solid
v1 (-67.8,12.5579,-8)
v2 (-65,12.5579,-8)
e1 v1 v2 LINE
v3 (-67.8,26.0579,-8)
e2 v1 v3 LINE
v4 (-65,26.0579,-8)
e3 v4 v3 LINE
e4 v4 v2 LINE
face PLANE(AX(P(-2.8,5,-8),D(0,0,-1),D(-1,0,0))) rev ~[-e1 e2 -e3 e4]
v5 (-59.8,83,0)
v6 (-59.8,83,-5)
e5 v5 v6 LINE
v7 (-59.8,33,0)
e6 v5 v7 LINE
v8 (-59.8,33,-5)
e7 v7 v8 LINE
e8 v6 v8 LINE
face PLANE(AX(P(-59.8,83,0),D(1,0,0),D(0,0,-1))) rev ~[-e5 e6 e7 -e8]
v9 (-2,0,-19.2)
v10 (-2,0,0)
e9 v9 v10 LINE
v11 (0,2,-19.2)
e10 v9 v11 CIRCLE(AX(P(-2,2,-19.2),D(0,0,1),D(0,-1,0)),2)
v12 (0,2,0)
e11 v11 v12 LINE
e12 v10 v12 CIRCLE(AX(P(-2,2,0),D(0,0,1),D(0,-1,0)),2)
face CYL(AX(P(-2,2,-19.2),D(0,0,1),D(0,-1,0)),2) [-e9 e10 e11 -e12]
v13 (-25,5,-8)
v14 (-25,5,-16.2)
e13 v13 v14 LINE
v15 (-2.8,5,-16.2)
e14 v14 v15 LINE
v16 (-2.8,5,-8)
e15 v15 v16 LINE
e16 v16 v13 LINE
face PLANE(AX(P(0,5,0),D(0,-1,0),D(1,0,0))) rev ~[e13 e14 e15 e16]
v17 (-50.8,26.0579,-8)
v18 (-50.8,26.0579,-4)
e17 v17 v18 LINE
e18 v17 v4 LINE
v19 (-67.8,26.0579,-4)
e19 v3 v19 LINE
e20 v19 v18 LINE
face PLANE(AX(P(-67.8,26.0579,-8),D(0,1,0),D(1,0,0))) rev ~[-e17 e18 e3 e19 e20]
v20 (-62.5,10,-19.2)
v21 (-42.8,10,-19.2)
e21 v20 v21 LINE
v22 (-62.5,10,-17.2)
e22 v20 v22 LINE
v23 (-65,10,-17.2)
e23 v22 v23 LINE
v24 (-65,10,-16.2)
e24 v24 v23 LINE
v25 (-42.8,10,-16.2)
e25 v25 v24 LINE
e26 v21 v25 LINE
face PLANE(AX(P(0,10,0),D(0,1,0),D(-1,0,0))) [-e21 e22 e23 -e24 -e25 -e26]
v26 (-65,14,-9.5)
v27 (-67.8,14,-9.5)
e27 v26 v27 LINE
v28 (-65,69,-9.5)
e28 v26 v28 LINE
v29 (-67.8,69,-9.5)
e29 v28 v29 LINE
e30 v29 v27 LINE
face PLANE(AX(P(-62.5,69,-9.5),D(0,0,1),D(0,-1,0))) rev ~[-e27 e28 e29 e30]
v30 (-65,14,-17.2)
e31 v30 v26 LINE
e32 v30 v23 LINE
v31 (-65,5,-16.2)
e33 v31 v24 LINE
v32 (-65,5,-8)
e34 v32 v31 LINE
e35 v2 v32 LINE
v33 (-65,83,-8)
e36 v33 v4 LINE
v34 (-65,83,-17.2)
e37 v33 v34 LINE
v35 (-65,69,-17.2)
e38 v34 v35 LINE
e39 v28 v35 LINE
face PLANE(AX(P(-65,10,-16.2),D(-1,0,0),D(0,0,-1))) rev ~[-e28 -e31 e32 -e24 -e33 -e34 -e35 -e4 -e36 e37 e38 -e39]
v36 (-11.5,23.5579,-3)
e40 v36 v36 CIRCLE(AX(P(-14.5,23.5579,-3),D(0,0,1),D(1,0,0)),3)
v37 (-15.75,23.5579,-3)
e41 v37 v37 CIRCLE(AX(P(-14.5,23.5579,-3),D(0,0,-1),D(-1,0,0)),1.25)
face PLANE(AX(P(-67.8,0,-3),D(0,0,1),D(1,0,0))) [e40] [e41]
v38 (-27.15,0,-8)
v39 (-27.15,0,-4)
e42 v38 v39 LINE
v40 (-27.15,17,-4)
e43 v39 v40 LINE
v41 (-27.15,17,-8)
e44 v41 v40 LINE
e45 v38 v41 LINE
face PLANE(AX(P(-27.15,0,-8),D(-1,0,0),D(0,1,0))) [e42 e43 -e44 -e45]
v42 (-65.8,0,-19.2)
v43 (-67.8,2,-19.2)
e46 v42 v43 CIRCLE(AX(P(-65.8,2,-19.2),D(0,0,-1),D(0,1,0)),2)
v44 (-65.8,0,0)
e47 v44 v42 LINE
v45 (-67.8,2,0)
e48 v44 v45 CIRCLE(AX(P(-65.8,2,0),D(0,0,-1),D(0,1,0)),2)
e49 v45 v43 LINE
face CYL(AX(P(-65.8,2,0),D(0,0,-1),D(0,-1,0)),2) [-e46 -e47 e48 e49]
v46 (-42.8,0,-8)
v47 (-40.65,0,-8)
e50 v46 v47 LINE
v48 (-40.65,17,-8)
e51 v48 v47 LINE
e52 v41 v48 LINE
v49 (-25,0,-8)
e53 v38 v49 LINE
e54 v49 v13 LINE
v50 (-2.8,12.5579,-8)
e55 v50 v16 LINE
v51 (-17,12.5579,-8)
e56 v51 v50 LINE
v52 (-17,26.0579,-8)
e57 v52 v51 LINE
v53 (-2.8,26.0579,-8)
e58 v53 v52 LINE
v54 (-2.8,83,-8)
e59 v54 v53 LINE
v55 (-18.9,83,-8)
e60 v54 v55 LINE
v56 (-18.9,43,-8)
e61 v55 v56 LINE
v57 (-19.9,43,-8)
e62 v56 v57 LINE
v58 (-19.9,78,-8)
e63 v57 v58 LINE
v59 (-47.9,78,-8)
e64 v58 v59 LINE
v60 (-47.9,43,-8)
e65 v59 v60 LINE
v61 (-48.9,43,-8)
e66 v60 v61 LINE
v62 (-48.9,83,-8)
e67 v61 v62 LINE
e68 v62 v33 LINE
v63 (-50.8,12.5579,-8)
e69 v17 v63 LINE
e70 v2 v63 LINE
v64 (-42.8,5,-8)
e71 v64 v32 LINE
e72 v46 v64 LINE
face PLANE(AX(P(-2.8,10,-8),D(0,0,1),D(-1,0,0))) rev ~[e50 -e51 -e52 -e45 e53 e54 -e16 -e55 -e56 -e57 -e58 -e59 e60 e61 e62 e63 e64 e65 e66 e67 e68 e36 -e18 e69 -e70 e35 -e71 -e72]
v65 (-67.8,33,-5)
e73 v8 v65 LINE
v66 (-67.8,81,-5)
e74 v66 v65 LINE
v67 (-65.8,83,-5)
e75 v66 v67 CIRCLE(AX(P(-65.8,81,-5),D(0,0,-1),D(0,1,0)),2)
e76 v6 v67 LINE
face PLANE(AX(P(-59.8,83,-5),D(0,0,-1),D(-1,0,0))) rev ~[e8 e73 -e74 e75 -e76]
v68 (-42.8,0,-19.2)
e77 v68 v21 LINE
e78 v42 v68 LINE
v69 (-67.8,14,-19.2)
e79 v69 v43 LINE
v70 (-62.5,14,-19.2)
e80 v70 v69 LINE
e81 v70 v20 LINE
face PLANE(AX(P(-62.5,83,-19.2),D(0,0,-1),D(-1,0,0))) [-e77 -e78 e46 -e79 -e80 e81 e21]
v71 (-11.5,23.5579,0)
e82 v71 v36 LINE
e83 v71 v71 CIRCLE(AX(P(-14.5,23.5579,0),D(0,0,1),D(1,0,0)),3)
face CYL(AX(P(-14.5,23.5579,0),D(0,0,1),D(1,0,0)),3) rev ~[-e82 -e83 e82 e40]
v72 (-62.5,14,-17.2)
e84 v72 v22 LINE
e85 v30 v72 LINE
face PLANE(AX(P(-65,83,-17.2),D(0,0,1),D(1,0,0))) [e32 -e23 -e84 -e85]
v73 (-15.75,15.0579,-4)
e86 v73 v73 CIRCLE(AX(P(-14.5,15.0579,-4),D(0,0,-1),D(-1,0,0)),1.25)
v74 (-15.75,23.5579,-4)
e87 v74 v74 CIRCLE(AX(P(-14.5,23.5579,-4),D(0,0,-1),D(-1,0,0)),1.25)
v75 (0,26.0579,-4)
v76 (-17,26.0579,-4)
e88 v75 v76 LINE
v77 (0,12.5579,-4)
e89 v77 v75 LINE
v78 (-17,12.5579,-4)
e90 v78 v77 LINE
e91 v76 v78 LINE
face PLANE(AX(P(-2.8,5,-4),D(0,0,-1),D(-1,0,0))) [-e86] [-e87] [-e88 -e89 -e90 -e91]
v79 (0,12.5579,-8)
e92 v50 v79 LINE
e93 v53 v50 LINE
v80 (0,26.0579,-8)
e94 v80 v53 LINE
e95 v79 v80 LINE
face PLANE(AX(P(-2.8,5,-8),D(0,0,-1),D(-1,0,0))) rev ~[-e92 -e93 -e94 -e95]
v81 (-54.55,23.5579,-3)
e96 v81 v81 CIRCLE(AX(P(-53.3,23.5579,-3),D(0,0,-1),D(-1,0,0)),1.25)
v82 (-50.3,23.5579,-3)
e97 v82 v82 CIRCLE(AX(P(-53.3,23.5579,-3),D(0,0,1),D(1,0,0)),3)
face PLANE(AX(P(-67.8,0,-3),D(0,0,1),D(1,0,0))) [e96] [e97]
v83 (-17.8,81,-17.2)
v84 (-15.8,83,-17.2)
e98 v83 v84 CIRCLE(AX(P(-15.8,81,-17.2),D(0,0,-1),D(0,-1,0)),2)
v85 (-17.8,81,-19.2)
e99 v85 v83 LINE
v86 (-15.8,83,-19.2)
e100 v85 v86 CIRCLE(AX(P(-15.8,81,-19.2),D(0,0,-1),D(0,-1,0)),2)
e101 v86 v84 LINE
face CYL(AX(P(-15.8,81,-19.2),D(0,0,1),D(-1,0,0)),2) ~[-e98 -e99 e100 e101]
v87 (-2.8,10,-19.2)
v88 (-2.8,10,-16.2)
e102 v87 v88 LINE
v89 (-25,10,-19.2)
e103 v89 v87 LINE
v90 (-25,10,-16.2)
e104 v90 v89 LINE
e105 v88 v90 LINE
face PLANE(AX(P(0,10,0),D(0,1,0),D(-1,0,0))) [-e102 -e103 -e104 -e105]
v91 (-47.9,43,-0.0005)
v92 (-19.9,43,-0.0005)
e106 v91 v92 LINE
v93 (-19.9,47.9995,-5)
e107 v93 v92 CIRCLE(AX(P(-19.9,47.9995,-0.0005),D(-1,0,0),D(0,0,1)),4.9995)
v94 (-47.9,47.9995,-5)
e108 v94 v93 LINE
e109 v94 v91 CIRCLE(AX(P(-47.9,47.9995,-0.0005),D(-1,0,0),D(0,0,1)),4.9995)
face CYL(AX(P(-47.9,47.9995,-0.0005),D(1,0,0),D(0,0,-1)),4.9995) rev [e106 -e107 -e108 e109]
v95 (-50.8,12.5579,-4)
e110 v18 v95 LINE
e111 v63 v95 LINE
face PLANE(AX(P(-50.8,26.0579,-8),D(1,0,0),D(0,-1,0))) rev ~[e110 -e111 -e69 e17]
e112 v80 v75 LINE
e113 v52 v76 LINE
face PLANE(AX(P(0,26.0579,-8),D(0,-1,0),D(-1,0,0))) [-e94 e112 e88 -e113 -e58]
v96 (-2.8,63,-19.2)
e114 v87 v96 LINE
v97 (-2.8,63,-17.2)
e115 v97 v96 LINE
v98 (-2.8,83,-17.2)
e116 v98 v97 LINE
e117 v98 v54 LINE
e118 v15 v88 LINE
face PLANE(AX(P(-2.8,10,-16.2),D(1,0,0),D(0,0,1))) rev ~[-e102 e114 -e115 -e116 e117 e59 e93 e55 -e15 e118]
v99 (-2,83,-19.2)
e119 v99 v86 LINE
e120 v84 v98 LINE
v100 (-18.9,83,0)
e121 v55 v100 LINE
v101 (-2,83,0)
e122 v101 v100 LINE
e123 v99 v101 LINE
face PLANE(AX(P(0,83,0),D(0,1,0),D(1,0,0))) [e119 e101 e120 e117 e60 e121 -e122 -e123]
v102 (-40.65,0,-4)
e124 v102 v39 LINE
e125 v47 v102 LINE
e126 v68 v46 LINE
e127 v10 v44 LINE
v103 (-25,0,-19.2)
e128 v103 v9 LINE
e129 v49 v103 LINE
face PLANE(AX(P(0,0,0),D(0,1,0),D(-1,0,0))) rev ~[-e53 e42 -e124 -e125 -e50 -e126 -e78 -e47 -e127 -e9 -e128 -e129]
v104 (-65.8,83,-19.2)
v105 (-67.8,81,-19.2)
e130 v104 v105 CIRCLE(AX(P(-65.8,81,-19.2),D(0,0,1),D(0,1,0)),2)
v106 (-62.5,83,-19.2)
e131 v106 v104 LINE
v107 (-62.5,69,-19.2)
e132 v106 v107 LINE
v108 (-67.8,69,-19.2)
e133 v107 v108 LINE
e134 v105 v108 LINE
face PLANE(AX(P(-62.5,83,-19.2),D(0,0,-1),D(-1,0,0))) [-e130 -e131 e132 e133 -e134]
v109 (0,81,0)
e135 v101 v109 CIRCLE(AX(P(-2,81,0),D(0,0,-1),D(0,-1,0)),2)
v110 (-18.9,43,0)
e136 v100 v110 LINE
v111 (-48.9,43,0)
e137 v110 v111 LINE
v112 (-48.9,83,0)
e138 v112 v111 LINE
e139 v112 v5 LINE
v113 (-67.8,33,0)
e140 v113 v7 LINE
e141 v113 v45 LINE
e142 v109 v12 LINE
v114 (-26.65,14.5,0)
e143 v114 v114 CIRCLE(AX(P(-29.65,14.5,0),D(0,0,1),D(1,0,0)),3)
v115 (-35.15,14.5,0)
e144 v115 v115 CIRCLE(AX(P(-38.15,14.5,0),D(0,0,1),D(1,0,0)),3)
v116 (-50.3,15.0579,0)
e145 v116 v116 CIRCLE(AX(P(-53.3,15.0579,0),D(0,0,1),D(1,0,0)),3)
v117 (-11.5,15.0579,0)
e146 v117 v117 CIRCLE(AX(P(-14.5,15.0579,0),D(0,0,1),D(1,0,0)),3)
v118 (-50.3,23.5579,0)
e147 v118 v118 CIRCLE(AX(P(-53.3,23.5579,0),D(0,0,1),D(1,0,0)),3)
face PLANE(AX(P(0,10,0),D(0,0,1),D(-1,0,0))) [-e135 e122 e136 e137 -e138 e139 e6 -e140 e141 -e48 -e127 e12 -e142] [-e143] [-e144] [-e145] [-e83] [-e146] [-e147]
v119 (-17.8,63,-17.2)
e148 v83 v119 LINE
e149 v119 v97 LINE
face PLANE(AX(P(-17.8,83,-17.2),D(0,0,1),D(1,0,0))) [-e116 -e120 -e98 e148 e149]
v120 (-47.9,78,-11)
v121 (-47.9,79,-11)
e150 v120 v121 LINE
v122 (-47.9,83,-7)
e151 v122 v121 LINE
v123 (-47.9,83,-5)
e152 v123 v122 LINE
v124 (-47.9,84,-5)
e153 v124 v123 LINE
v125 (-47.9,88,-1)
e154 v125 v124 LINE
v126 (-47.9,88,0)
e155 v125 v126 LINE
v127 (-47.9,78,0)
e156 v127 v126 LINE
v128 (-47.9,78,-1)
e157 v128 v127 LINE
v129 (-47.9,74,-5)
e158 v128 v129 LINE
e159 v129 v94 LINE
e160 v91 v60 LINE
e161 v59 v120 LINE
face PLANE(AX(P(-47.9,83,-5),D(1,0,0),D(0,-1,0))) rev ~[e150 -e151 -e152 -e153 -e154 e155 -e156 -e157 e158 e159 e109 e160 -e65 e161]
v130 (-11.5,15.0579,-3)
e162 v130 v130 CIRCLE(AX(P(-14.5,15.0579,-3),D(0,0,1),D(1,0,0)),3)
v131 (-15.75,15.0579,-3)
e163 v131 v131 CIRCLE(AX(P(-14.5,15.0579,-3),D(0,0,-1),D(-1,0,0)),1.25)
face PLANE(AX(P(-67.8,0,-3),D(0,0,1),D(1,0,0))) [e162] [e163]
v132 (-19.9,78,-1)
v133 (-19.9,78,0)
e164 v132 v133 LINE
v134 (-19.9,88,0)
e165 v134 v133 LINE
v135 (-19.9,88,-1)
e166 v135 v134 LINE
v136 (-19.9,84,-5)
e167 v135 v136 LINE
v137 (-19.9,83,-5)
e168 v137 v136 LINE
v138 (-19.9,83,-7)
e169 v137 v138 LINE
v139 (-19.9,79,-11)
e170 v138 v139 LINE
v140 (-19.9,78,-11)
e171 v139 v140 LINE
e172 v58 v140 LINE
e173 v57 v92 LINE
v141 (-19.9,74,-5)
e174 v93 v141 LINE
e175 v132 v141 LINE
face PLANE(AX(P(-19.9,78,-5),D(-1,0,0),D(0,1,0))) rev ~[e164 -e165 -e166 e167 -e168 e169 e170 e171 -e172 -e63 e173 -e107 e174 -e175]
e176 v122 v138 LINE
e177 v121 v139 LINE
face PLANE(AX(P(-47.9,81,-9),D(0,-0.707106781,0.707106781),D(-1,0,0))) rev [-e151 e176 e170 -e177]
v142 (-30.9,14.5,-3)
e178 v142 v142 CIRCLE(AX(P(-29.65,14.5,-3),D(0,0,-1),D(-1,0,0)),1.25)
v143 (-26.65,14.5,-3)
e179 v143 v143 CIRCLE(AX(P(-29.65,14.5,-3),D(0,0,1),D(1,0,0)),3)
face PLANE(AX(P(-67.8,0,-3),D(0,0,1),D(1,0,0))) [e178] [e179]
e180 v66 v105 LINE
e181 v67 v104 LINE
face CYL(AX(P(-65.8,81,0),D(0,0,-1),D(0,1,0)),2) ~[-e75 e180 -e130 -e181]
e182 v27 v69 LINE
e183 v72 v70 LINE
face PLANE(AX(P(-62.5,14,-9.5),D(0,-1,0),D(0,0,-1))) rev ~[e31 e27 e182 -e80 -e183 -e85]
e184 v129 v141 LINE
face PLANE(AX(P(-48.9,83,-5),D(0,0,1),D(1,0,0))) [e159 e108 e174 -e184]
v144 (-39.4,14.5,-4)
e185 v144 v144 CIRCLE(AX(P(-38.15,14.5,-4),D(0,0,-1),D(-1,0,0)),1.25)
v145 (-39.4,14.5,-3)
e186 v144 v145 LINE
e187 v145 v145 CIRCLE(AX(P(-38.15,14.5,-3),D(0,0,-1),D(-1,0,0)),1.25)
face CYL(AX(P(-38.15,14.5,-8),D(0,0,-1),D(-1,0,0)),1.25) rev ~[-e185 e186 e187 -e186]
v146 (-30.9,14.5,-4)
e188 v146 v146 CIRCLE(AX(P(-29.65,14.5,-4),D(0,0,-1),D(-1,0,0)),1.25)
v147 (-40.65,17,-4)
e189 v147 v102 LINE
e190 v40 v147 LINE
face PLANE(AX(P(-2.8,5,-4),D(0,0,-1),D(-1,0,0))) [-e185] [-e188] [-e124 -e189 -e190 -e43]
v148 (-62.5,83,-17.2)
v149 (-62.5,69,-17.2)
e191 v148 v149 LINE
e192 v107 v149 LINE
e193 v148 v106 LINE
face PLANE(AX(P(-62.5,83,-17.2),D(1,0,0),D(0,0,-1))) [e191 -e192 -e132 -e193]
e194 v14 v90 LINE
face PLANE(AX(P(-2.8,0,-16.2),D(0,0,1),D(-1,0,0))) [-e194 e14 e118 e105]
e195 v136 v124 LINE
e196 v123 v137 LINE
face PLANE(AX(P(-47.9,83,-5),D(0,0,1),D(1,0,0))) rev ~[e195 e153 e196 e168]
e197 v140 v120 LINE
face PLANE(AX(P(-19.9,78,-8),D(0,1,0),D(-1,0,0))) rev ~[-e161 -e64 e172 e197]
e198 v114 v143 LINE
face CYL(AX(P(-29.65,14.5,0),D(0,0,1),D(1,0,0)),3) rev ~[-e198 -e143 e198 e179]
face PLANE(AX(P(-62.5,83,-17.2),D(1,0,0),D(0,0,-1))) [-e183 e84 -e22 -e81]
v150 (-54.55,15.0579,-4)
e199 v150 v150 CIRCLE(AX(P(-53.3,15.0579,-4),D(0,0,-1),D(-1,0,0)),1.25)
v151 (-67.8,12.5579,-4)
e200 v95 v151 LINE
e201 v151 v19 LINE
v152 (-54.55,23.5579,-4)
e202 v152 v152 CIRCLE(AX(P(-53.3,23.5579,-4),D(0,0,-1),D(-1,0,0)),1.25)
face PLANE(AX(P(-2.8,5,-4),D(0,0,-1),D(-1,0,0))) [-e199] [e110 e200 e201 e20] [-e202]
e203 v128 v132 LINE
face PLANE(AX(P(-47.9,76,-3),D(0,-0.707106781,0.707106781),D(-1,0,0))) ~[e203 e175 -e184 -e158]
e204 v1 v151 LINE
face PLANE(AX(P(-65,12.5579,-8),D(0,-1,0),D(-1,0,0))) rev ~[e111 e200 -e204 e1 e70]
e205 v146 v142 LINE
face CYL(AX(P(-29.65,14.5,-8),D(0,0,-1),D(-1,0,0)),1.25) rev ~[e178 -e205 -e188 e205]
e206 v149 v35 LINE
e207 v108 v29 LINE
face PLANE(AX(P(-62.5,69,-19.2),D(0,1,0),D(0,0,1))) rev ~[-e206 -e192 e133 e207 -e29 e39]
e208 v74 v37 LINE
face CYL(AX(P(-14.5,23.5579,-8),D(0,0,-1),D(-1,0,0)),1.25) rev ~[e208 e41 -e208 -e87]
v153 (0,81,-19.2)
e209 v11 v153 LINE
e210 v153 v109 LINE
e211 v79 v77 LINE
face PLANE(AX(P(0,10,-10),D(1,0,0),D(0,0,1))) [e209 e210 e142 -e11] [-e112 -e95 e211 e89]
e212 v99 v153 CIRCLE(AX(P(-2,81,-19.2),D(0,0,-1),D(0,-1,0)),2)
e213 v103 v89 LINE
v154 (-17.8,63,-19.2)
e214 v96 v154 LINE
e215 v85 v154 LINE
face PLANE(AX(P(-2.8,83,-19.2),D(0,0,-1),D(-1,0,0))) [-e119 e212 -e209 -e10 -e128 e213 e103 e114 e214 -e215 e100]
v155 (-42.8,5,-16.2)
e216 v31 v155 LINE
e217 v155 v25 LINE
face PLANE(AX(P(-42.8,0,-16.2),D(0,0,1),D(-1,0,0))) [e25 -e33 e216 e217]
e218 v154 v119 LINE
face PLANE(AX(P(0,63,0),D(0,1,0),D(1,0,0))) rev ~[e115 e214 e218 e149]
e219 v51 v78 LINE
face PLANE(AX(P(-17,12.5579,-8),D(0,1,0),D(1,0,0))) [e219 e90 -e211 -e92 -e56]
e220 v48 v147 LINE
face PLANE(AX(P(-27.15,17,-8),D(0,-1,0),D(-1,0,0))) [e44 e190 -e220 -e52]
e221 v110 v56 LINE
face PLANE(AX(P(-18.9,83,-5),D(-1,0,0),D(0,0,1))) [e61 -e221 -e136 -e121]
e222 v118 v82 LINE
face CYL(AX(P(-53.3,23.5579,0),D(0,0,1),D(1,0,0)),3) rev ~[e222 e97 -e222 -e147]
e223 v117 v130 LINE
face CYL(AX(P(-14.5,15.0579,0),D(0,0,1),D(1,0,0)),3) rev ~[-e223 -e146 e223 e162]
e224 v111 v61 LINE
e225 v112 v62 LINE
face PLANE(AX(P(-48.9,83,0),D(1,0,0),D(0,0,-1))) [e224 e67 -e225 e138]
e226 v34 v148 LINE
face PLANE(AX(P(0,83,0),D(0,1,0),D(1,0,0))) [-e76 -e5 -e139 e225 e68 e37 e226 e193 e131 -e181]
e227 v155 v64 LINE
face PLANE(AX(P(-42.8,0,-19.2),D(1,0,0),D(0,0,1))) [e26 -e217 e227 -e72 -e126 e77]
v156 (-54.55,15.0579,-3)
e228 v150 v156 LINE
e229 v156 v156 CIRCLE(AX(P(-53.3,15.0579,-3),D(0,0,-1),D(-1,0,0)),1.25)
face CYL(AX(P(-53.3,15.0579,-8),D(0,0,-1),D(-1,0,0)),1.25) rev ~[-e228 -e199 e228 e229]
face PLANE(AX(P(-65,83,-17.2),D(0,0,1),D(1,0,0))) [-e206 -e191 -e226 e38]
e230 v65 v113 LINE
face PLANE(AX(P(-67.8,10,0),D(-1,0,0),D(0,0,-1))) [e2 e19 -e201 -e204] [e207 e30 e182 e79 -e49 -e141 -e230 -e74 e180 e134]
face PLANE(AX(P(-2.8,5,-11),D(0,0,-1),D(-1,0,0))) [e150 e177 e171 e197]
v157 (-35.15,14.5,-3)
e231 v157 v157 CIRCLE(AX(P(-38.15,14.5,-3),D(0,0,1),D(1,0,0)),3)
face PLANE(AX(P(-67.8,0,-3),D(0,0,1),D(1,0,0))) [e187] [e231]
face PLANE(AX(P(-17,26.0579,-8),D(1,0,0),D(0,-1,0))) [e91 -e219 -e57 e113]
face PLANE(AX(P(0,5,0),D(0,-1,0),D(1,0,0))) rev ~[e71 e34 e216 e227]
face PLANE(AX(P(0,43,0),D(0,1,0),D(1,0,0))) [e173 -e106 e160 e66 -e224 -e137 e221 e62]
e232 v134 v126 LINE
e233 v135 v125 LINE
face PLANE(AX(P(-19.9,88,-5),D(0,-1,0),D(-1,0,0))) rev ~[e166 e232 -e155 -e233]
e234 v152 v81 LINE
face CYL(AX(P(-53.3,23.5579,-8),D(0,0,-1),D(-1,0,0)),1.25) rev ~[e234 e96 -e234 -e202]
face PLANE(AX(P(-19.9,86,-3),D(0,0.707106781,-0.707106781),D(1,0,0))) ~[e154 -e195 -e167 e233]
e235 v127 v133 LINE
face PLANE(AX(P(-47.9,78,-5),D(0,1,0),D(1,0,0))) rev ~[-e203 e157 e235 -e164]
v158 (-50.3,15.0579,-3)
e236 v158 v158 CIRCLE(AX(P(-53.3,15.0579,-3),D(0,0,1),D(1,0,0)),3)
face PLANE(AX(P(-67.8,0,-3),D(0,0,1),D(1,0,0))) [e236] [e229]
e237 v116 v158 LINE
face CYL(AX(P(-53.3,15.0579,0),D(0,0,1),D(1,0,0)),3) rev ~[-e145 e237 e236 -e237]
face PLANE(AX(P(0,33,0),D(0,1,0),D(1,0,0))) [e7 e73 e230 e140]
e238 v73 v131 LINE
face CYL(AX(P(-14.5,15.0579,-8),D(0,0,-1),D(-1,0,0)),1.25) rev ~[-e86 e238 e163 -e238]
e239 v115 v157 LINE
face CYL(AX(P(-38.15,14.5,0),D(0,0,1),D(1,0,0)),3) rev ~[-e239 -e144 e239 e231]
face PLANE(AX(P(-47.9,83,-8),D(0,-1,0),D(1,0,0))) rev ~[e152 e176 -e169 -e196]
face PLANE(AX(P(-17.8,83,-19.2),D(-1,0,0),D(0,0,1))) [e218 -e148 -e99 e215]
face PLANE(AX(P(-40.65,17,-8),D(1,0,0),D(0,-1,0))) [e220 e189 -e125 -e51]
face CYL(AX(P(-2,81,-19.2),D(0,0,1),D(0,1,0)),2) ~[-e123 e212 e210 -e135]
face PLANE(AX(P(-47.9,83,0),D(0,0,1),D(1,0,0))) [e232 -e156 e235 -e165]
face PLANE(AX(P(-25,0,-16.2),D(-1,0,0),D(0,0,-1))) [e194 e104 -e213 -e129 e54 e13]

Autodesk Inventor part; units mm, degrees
ref_plane "YZ Plane" through (0, 0, 0) normal (1, 0, 0) x (0, 1, 0)
ref_plane "XZ Plane" through (0, 0, 0) normal (0, 1, 0) x (-1, 0, 0)
ref_plane "XY Plane" through (0, 0, 0) normal (0, 0, 1) x (1, 0, 0)
sketch "Sketch2" plane through (0, 0, 0) normal (0, 1, 0) x (-1, 0, 0)
  line L0 (0, 0) -> (67.8, 0)
  line L1 (67.8, 0) -> (67.8, -19.2)
  line L2 (67.8, -19.2) -> (42.8, -19.2)
  line L3 (42.8, -19.2) -> (42.8, -16.2)
  line L4 (42.8, -16.2) -> (65, -16.2)
  line L5 (65, -16.2) -> (65, -8)
  line L6 (65, -8) -> (2.8, -8)
  line L7 (2.8, -8) -> (2.8, -16.2)
  line L8 (2.8, -16.2) -> (25, -16.2)
  line L9 (25, -16.2) -> (25, -19.2)
  line L10 (25, -19.2) -> (0, -19.2)
  line L11 (0, -19.2) -> (0, 0)
  dimension "d2" = 62.2
  dimension "d3" = 2.8
  dimension "d4" = 2.8
  dimension "d5" = 3
  dimension "d6" = 25
  dimension "d7" = 25
  dimension "d8" = 8
  dimension "d9" = 8.2
extrude "Extrusion1" add sketch "Sketch2" along normal blind 10
sketch "Sketch3" plane through (0, 0, 0) normal (0, -1, 0) x (1, 0, 0)
  line L0 (-2.8, -8) -> (-65, -8) projected
  line L1 (-42.8, -8) -> (-65, -8)
  line L2 (-65, -8) -> (-65, -16.2)
  line L3 (-65, -16.2) -> (-42.8, -16.2)
  line L4 (-42.8, -16.2) -> (-42.8, -8)
  line L5 (-42.8, -19.2) -> (-42.8, -16.2) projected
  line L6 (-42.8, -16.2) -> (-65, -16.2) projected
  line L7 (-25, -16.2) -> (-2.8, -16.2)
  line L8 (-2.8, -16.2) -> (-2.8, -8)
  line L9 (-2.8, -8) -> (-25, -8)
  line L10 (-25, -8) -> (-25, -16.2)
  line L11 (-65, -8) -> (-65, -16.2) projected
  point P0 (0, 0)
extrude "Extrusion2" add sketch "Sketch3" against normal blind 5
sketch "Sketch7" plane through (0, 10, 0) normal (0, 1, 0) x (1, 0, 0)
  line L0 (0, 10) -> (0, 0)
  line L1 (0, 0) -> (-67.8, 0)
  line L2 (-67.8, 0) -> (-67.8, 19.2)
  line L3 (0, 10) -> (0, 19.2)
  line L4 (0, 19.2) -> (-2.8, 19.2)
  line L5 (-2.8, 19.2) -> (-2.8, 8)
  line L6 (-2.8, 8) -> (-65, 8)
  line L7 (-65, 8) -> (-65, 19.2)
  line L8 (-65, 19.2) -> (-67.8, 19.2)
  line L9 (-67.8, 19.2) -> (-67.8, 0) projected
  line L10 (0, 19.2) -> (-25, 19.2) projected
  line L11 (-2.8, 8) -> (-65, 8) projected
  line L12 (-65, 8) -> (-65, 16.2) projected
  line L13 (-2.8, 16.2) -> (-2.8, 8) projected
extrude "Extrusion5" add sketch "Sketch7" along normal blind 73
sketch "Sketch10" plane through (0, 83, 0) normal (0, 1, 0) x (1, 0, 0)
  line L0 (-18.9, 0) -> (-48.9, 0)
  line L1 (-48.9, 0) -> (-48.9, 5)
  line L2 (-48.9, 5) -> (-18.9, 5)
  line L3 (-18.9, 5) -> (-18.9, 0)
  line L4 (-2.8, 8) -> (-65, 8) projected
  line L5 (-67.8, 0) -> (0, 0) projected
  line L6 (-33.9, 8) -> (-33.9, 19.521) construction
  line L7 (-33.9, 0) -> (-33.9, -9.399) construction
  dimension "d40" = 3
  dimension "d41" = 30
extrude "Extrusion8" cut sketch "Sketch10" against normal blind 40
sketch "Sketch11" plane through (-48.9, 83, -5) normal (0, 0, 1) x (1, 0, 0)
  line L0 (0, 0) -> (1, 0)
  line L1 (1, 0) -> (1, -40)
  line L2 (1, -40) -> (0, -40)
  line L3 (0, -40) -> (0, 0)
  line L4 (29, 0) -> (30, 0)
  line L5 (30, 0) -> (30, -40)
  line L6 (30, -40) -> (29, -40)
  line L7 (29, -40) -> (29, 0)
  line L8 (30, -40) -> (0, -40) projected
  line L9 (30, 0) -> (30, -40) projected
  line L10 (0, -40) -> (0, 0) projected
  line L11 (0, 0) -> (30, 0) projected
  point P0 (48.9, -83)
  dimension "d44" = 1
  dimension "d45" = 1
extrude "Extrusion9" cut sketch "Sketch11" against normal blind 30 contours L0 L1 L2 L3 | L4 L5 L6 L7
sketch "Sketch13" plane through (-2.8, 5, -8) normal (0, 0, -1) x (-1, 0, 0)
  line L0 (45.1, 78) -> (17.1, 78)
  line L1 (17.1, 78) -> (17.1, 73)
  line L2 (17.1, 73) -> (45.1, 73)
  line L3 (45.1, 73) -> (45.1, 78)
  line L4 (17.1, 78) -> (45.1, 78) projected
  line L5 (17.1, 78) -> (17.1, 38) projected
  line L6 (45.1, 38) -> (45.1, 78) projected
  point P0 (-2.8, -5)
  dimension "d48" = 5
extrude "Extrusion10" add sketch "Sketch13" along normal blind 3
chamfer "Chamfer1" distance 4 angle 45 1 edges at (-33.9, 83, -11)
fillet "Fillet1" radius 5 1 edges at (-33.9, 43, -5)
fillet "Fillet2" radius 2 4 edges at (0, 0, -9.6) (0, 83, -9.6) (-67.8, 0, -9.6) (-67.8, 83, -9.6)
sketch "Sketch16" plane through (-2.8, 5, -8) normal (0, 0, -1) x (-1, 0, 0)
  line L0 (65, 21.0579) -> (48, 21.0579)
  line L1 (48, 21.0579) -> (48, 7.5579)
  line L2 (48, 7.5579) -> (65, 7.5579)
  line L3 (65, 7.5579) -> (65, 21.0579)
  line L4 (24.35, 12) -> (37.85, 12)
  line L5 (37.85, 12) -> (37.85, -5)
  line L6 (37.85, -5) -> (24.35, -5)
  line L7 (24.35, -5) -> (24.35, 12)
  line L8 (40, -5) -> (22.2, -5) projected
  line L9 (22.2, -5) -> (22.2, 5) projected
  line L10 (62.2, 5) -> (62.2, 78) projected
  line L11 (65, -3) -> (65, 76) projected
  line L12 (-2.8, 21.0579) -> (14.2, 21.0579)
  line L13 (14.2, 21.0579) -> (14.2, 7.5579)
  line L14 (14.2, 7.5579) -> (-2.8, 7.5579)
  line L15 (-2.8, 7.5579) -> (-2.8, 21.0579)
  line L16 (-2.8, -3) -> (-2.8, 76) projected
  point P0 (-2.8, -5)
  dimension "d80" = 13.5
  dimension "d81" = 17
  dimension "d82" = 13.5
  dimension "d83" = 17
  dimension "d84" = 2.15
  dimension "d138" = 17
extrude "Extrusion15" cut sketch "Sketch16" against normal blind 4
sketch "Sketch8" plane through (-25, 0, -8) normal (0, 0, -1) x (-1, 0, 0)
  circle A0 centre (4.65, 14.5) radius 1.25
  circle A1 centre (13.15, 14.5) radius 1.25
  line L0 (2.15, 17) -> (15.65, 17) projected
  line L1 (2.15, 0) -> (2.15, 17) projected
  line L2 (15.65, 17) -> (15.65, 0) projected
  circle A2 centre (28.3, 23.5579) radius 1.25
  circle A3 centre (28.3, 15.0579) radius 1.25
  line L3 (25.8, 26.0579) -> (40, 26.0579) projected
  line L4 (25.8, 12.5579) -> (25.8, 26.0579) projected
  line L5 (40, 12.5579) -> (25.8, 12.5579) projected
  circle A4 centre (-10.5, 23.5579) radius 1.25
  circle A5 centre (-10.5, 15.0579) radius 1.25
  line L6 (-8, 26.0579) -> (-8, 12.5579) projected
  line L7 (-8, 12.5579) -> (-25, 12.5579) projected
  line L8 (-25, 26.0579) -> (-8, 26.0579) projected
  point P0 (-25, 0)
  dimension "d28" = 2.5
  dimension "d29" = 2.5
  dimension "d87" = 2.5
  dimension "d88" = 2.5
  dimension "d89" = 2.5
  dimension "d90" = 2.5
  dimension "d91" = 2.5
  dimension "d92" = 2.5
  dimension "d93" = 2.5
  dimension "d94" = 2.5
  dimension "d95" = 2.5
  dimension "d96" = 2.5
  dimension "d139" = 2.5
  dimension "d140" = 2.5
  dimension "d141" = 2.5
  dimension "d142" = 2.5
  dimension "d143" = 2.5
  dimension "d144" = 2.5
extrude "Extrusion16" cut sketch "Sketch8" against normal up to surface (8 mm away)
sketch "Sketch15" plane through (-67.8, 0, 0) normal (0, 0, 1) x (1, 0, 0)
  circle A0 centre (53.3, 15.0579) radius 3
  circle A1 centre (53.3, 23.5579) radius 3
  circle A2 centre (38.15, 14.5) radius 3
  circle A3 centre (29.65, 14.5) radius 3
  circle A4 centre (14.5, 15.0579) radius 3
  circle A5 centre (14.5, 23.5579) radius 3
  circle A6 centre (53.3, 15.0579) radius 1.25 projected
  circle A7 centre (53.3, 23.5579) radius 1.25 projected
  circle A8 centre (38.15, 14.5) radius 1.25 projected
  circle A9 centre (29.65, 14.5) radius 1.25 projected
  circle A10 centre (14.5, 15.0579) radius 1.25 projected
  circle A11 centre (14.5, 23.5579) radius 1.25 projected
  point P0 (67.8, 0)
  dimension "d145" = 6
  dimension "d146" = 6
  dimension "d147" = 6
  dimension "d148" = 6
  dimension "d149" = 6
  dimension "d150" = 6
extrude "Extrusion17" cut sketch "Sketch15" against normal blind 3
sketch "Sketch18" plane through (0, 83, 0) normal (0, 1, 0) x (1, 0, 0)
  line L0 (-67.8, 0) -> (-59.8, 0)
  line L1 (-59.8, 0) -> (-59.8, 5)
  line L2 (-59.8, 5) -> (-67.8, 5)
  line L3 (-67.8, 5) -> (-67.8, 0)
  point P0 (0, 0)
  dimension "d116" = 8
  dimension "d117" = 5
extrude "Extrusion19" cut sketch "Sketch18" against normal blind 50
sketch "Sketch21" plane through (-47.9, 83, -5) normal (0, 0, 1) x (1, 0, 0)
  line L0 (28, -35) -> (28, 0) projected
  line L1 (0, -5) -> (28, -5)
  line L2 (28, -5) -> (28, 5)
  line L3 (28, 5) -> (0, 5)
  line L4 (0, 5) -> (0, -5)
  line L5 (0, 0) -> (0, -35) projected
  line L6 (0, -5) -> (28, -5) projected
  point P0 (47.9, -83)
extrude "Extrusion22" add sketch "Sketch21" along normal up to surface (5 mm away)
chamfer "Chamfer2" distance 4 angle 45 1 edges at (-33.9, 88, -5)
chamfer "Chamfer3" distance 4 angle 45 1 edges at (-33.9, 78, -5)
sketch "Sketch19" plane through (0, 83, 0) normal (0, 1, 0) x (1, 0, 0)
  line L0 (-2.8, 19.2) -> (-17.8, 19.2)
  line L1 (-17.8, 19.2) -> (-17.8, 17.2)
  line L2 (-17.8, 17.2) -> (-2.8, 17.2)
  line L3 (-2.8, 17.2) -> (-2.8, 19.2)
  point P0 (0, 0)
  dimension "d120" = 15
  dimension "d151" = 2
sketch "Sketch17" plane through (0, 83, 0) normal (0, 1, 0) x (1, 0, 0)
  line L0 (-65, 17.2) -> (-62.5, 17.2)
  line L1 (-62.5, 17.2) -> (-62.5, 19.2)
  line L2 (-62.5, 19.2) -> (-65, 19.2)
  line L3 (-65, 19.2) -> (-65, 17.2)
  line L4 (-65, 16.2) -> (-42.8, 16.2) projected
  line L5 (-65, 8) -> (-65, 19.2) projected
  line L6 (-42.8, 19.2) -> (-65, 19.2) projected
  point P0 (0, 0)
  dimension "d111" = 2
  dimension "d112" = 2.5
sketch "Sketch20" plane through (0, 2, 0) normal (1, 0, 0) x (0, 0, -1)
  line L0 (19.2, 67) -> (9.5, 67)
  line L1 (9.5, 67) -> (9.5, 12)
  line L2 (9.5, 12) -> (19.2, 12)
  line L3 (19.2, 12) -> (19.2, 67)
  line L4 (19.2, 81) -> (0, 81) projected
  line L5 (0, -2) -> (19.2, -2) projected
  line L6 (19.2, 0) -> (19.2, 79) projected
  line L7 (8, 3) -> (8, 81) projected
  dimension "d123" = 14
  dimension "d124" = 14
  dimension "d126" = 1.5
ref_plane "Work Plane2" through (-33.9, 2, 0) normal (1, 0, 0) x (0, 0, -1)
extrude "Extrusion25" add sketch "Sketch17" against normal up to next
extrude "Extrusion23" cut sketch "Sketch20" against normal up to surface (5.3 mm away) from surface at -62.5
extrude "Extrusion24" add sketch "Sketch19" against normal blind 20
fillet "Fillet5" radius 2 1 edges at (-17.8, 83, -18.2)
properties part number "ZAPATO ZOWI IZQ2.1"
